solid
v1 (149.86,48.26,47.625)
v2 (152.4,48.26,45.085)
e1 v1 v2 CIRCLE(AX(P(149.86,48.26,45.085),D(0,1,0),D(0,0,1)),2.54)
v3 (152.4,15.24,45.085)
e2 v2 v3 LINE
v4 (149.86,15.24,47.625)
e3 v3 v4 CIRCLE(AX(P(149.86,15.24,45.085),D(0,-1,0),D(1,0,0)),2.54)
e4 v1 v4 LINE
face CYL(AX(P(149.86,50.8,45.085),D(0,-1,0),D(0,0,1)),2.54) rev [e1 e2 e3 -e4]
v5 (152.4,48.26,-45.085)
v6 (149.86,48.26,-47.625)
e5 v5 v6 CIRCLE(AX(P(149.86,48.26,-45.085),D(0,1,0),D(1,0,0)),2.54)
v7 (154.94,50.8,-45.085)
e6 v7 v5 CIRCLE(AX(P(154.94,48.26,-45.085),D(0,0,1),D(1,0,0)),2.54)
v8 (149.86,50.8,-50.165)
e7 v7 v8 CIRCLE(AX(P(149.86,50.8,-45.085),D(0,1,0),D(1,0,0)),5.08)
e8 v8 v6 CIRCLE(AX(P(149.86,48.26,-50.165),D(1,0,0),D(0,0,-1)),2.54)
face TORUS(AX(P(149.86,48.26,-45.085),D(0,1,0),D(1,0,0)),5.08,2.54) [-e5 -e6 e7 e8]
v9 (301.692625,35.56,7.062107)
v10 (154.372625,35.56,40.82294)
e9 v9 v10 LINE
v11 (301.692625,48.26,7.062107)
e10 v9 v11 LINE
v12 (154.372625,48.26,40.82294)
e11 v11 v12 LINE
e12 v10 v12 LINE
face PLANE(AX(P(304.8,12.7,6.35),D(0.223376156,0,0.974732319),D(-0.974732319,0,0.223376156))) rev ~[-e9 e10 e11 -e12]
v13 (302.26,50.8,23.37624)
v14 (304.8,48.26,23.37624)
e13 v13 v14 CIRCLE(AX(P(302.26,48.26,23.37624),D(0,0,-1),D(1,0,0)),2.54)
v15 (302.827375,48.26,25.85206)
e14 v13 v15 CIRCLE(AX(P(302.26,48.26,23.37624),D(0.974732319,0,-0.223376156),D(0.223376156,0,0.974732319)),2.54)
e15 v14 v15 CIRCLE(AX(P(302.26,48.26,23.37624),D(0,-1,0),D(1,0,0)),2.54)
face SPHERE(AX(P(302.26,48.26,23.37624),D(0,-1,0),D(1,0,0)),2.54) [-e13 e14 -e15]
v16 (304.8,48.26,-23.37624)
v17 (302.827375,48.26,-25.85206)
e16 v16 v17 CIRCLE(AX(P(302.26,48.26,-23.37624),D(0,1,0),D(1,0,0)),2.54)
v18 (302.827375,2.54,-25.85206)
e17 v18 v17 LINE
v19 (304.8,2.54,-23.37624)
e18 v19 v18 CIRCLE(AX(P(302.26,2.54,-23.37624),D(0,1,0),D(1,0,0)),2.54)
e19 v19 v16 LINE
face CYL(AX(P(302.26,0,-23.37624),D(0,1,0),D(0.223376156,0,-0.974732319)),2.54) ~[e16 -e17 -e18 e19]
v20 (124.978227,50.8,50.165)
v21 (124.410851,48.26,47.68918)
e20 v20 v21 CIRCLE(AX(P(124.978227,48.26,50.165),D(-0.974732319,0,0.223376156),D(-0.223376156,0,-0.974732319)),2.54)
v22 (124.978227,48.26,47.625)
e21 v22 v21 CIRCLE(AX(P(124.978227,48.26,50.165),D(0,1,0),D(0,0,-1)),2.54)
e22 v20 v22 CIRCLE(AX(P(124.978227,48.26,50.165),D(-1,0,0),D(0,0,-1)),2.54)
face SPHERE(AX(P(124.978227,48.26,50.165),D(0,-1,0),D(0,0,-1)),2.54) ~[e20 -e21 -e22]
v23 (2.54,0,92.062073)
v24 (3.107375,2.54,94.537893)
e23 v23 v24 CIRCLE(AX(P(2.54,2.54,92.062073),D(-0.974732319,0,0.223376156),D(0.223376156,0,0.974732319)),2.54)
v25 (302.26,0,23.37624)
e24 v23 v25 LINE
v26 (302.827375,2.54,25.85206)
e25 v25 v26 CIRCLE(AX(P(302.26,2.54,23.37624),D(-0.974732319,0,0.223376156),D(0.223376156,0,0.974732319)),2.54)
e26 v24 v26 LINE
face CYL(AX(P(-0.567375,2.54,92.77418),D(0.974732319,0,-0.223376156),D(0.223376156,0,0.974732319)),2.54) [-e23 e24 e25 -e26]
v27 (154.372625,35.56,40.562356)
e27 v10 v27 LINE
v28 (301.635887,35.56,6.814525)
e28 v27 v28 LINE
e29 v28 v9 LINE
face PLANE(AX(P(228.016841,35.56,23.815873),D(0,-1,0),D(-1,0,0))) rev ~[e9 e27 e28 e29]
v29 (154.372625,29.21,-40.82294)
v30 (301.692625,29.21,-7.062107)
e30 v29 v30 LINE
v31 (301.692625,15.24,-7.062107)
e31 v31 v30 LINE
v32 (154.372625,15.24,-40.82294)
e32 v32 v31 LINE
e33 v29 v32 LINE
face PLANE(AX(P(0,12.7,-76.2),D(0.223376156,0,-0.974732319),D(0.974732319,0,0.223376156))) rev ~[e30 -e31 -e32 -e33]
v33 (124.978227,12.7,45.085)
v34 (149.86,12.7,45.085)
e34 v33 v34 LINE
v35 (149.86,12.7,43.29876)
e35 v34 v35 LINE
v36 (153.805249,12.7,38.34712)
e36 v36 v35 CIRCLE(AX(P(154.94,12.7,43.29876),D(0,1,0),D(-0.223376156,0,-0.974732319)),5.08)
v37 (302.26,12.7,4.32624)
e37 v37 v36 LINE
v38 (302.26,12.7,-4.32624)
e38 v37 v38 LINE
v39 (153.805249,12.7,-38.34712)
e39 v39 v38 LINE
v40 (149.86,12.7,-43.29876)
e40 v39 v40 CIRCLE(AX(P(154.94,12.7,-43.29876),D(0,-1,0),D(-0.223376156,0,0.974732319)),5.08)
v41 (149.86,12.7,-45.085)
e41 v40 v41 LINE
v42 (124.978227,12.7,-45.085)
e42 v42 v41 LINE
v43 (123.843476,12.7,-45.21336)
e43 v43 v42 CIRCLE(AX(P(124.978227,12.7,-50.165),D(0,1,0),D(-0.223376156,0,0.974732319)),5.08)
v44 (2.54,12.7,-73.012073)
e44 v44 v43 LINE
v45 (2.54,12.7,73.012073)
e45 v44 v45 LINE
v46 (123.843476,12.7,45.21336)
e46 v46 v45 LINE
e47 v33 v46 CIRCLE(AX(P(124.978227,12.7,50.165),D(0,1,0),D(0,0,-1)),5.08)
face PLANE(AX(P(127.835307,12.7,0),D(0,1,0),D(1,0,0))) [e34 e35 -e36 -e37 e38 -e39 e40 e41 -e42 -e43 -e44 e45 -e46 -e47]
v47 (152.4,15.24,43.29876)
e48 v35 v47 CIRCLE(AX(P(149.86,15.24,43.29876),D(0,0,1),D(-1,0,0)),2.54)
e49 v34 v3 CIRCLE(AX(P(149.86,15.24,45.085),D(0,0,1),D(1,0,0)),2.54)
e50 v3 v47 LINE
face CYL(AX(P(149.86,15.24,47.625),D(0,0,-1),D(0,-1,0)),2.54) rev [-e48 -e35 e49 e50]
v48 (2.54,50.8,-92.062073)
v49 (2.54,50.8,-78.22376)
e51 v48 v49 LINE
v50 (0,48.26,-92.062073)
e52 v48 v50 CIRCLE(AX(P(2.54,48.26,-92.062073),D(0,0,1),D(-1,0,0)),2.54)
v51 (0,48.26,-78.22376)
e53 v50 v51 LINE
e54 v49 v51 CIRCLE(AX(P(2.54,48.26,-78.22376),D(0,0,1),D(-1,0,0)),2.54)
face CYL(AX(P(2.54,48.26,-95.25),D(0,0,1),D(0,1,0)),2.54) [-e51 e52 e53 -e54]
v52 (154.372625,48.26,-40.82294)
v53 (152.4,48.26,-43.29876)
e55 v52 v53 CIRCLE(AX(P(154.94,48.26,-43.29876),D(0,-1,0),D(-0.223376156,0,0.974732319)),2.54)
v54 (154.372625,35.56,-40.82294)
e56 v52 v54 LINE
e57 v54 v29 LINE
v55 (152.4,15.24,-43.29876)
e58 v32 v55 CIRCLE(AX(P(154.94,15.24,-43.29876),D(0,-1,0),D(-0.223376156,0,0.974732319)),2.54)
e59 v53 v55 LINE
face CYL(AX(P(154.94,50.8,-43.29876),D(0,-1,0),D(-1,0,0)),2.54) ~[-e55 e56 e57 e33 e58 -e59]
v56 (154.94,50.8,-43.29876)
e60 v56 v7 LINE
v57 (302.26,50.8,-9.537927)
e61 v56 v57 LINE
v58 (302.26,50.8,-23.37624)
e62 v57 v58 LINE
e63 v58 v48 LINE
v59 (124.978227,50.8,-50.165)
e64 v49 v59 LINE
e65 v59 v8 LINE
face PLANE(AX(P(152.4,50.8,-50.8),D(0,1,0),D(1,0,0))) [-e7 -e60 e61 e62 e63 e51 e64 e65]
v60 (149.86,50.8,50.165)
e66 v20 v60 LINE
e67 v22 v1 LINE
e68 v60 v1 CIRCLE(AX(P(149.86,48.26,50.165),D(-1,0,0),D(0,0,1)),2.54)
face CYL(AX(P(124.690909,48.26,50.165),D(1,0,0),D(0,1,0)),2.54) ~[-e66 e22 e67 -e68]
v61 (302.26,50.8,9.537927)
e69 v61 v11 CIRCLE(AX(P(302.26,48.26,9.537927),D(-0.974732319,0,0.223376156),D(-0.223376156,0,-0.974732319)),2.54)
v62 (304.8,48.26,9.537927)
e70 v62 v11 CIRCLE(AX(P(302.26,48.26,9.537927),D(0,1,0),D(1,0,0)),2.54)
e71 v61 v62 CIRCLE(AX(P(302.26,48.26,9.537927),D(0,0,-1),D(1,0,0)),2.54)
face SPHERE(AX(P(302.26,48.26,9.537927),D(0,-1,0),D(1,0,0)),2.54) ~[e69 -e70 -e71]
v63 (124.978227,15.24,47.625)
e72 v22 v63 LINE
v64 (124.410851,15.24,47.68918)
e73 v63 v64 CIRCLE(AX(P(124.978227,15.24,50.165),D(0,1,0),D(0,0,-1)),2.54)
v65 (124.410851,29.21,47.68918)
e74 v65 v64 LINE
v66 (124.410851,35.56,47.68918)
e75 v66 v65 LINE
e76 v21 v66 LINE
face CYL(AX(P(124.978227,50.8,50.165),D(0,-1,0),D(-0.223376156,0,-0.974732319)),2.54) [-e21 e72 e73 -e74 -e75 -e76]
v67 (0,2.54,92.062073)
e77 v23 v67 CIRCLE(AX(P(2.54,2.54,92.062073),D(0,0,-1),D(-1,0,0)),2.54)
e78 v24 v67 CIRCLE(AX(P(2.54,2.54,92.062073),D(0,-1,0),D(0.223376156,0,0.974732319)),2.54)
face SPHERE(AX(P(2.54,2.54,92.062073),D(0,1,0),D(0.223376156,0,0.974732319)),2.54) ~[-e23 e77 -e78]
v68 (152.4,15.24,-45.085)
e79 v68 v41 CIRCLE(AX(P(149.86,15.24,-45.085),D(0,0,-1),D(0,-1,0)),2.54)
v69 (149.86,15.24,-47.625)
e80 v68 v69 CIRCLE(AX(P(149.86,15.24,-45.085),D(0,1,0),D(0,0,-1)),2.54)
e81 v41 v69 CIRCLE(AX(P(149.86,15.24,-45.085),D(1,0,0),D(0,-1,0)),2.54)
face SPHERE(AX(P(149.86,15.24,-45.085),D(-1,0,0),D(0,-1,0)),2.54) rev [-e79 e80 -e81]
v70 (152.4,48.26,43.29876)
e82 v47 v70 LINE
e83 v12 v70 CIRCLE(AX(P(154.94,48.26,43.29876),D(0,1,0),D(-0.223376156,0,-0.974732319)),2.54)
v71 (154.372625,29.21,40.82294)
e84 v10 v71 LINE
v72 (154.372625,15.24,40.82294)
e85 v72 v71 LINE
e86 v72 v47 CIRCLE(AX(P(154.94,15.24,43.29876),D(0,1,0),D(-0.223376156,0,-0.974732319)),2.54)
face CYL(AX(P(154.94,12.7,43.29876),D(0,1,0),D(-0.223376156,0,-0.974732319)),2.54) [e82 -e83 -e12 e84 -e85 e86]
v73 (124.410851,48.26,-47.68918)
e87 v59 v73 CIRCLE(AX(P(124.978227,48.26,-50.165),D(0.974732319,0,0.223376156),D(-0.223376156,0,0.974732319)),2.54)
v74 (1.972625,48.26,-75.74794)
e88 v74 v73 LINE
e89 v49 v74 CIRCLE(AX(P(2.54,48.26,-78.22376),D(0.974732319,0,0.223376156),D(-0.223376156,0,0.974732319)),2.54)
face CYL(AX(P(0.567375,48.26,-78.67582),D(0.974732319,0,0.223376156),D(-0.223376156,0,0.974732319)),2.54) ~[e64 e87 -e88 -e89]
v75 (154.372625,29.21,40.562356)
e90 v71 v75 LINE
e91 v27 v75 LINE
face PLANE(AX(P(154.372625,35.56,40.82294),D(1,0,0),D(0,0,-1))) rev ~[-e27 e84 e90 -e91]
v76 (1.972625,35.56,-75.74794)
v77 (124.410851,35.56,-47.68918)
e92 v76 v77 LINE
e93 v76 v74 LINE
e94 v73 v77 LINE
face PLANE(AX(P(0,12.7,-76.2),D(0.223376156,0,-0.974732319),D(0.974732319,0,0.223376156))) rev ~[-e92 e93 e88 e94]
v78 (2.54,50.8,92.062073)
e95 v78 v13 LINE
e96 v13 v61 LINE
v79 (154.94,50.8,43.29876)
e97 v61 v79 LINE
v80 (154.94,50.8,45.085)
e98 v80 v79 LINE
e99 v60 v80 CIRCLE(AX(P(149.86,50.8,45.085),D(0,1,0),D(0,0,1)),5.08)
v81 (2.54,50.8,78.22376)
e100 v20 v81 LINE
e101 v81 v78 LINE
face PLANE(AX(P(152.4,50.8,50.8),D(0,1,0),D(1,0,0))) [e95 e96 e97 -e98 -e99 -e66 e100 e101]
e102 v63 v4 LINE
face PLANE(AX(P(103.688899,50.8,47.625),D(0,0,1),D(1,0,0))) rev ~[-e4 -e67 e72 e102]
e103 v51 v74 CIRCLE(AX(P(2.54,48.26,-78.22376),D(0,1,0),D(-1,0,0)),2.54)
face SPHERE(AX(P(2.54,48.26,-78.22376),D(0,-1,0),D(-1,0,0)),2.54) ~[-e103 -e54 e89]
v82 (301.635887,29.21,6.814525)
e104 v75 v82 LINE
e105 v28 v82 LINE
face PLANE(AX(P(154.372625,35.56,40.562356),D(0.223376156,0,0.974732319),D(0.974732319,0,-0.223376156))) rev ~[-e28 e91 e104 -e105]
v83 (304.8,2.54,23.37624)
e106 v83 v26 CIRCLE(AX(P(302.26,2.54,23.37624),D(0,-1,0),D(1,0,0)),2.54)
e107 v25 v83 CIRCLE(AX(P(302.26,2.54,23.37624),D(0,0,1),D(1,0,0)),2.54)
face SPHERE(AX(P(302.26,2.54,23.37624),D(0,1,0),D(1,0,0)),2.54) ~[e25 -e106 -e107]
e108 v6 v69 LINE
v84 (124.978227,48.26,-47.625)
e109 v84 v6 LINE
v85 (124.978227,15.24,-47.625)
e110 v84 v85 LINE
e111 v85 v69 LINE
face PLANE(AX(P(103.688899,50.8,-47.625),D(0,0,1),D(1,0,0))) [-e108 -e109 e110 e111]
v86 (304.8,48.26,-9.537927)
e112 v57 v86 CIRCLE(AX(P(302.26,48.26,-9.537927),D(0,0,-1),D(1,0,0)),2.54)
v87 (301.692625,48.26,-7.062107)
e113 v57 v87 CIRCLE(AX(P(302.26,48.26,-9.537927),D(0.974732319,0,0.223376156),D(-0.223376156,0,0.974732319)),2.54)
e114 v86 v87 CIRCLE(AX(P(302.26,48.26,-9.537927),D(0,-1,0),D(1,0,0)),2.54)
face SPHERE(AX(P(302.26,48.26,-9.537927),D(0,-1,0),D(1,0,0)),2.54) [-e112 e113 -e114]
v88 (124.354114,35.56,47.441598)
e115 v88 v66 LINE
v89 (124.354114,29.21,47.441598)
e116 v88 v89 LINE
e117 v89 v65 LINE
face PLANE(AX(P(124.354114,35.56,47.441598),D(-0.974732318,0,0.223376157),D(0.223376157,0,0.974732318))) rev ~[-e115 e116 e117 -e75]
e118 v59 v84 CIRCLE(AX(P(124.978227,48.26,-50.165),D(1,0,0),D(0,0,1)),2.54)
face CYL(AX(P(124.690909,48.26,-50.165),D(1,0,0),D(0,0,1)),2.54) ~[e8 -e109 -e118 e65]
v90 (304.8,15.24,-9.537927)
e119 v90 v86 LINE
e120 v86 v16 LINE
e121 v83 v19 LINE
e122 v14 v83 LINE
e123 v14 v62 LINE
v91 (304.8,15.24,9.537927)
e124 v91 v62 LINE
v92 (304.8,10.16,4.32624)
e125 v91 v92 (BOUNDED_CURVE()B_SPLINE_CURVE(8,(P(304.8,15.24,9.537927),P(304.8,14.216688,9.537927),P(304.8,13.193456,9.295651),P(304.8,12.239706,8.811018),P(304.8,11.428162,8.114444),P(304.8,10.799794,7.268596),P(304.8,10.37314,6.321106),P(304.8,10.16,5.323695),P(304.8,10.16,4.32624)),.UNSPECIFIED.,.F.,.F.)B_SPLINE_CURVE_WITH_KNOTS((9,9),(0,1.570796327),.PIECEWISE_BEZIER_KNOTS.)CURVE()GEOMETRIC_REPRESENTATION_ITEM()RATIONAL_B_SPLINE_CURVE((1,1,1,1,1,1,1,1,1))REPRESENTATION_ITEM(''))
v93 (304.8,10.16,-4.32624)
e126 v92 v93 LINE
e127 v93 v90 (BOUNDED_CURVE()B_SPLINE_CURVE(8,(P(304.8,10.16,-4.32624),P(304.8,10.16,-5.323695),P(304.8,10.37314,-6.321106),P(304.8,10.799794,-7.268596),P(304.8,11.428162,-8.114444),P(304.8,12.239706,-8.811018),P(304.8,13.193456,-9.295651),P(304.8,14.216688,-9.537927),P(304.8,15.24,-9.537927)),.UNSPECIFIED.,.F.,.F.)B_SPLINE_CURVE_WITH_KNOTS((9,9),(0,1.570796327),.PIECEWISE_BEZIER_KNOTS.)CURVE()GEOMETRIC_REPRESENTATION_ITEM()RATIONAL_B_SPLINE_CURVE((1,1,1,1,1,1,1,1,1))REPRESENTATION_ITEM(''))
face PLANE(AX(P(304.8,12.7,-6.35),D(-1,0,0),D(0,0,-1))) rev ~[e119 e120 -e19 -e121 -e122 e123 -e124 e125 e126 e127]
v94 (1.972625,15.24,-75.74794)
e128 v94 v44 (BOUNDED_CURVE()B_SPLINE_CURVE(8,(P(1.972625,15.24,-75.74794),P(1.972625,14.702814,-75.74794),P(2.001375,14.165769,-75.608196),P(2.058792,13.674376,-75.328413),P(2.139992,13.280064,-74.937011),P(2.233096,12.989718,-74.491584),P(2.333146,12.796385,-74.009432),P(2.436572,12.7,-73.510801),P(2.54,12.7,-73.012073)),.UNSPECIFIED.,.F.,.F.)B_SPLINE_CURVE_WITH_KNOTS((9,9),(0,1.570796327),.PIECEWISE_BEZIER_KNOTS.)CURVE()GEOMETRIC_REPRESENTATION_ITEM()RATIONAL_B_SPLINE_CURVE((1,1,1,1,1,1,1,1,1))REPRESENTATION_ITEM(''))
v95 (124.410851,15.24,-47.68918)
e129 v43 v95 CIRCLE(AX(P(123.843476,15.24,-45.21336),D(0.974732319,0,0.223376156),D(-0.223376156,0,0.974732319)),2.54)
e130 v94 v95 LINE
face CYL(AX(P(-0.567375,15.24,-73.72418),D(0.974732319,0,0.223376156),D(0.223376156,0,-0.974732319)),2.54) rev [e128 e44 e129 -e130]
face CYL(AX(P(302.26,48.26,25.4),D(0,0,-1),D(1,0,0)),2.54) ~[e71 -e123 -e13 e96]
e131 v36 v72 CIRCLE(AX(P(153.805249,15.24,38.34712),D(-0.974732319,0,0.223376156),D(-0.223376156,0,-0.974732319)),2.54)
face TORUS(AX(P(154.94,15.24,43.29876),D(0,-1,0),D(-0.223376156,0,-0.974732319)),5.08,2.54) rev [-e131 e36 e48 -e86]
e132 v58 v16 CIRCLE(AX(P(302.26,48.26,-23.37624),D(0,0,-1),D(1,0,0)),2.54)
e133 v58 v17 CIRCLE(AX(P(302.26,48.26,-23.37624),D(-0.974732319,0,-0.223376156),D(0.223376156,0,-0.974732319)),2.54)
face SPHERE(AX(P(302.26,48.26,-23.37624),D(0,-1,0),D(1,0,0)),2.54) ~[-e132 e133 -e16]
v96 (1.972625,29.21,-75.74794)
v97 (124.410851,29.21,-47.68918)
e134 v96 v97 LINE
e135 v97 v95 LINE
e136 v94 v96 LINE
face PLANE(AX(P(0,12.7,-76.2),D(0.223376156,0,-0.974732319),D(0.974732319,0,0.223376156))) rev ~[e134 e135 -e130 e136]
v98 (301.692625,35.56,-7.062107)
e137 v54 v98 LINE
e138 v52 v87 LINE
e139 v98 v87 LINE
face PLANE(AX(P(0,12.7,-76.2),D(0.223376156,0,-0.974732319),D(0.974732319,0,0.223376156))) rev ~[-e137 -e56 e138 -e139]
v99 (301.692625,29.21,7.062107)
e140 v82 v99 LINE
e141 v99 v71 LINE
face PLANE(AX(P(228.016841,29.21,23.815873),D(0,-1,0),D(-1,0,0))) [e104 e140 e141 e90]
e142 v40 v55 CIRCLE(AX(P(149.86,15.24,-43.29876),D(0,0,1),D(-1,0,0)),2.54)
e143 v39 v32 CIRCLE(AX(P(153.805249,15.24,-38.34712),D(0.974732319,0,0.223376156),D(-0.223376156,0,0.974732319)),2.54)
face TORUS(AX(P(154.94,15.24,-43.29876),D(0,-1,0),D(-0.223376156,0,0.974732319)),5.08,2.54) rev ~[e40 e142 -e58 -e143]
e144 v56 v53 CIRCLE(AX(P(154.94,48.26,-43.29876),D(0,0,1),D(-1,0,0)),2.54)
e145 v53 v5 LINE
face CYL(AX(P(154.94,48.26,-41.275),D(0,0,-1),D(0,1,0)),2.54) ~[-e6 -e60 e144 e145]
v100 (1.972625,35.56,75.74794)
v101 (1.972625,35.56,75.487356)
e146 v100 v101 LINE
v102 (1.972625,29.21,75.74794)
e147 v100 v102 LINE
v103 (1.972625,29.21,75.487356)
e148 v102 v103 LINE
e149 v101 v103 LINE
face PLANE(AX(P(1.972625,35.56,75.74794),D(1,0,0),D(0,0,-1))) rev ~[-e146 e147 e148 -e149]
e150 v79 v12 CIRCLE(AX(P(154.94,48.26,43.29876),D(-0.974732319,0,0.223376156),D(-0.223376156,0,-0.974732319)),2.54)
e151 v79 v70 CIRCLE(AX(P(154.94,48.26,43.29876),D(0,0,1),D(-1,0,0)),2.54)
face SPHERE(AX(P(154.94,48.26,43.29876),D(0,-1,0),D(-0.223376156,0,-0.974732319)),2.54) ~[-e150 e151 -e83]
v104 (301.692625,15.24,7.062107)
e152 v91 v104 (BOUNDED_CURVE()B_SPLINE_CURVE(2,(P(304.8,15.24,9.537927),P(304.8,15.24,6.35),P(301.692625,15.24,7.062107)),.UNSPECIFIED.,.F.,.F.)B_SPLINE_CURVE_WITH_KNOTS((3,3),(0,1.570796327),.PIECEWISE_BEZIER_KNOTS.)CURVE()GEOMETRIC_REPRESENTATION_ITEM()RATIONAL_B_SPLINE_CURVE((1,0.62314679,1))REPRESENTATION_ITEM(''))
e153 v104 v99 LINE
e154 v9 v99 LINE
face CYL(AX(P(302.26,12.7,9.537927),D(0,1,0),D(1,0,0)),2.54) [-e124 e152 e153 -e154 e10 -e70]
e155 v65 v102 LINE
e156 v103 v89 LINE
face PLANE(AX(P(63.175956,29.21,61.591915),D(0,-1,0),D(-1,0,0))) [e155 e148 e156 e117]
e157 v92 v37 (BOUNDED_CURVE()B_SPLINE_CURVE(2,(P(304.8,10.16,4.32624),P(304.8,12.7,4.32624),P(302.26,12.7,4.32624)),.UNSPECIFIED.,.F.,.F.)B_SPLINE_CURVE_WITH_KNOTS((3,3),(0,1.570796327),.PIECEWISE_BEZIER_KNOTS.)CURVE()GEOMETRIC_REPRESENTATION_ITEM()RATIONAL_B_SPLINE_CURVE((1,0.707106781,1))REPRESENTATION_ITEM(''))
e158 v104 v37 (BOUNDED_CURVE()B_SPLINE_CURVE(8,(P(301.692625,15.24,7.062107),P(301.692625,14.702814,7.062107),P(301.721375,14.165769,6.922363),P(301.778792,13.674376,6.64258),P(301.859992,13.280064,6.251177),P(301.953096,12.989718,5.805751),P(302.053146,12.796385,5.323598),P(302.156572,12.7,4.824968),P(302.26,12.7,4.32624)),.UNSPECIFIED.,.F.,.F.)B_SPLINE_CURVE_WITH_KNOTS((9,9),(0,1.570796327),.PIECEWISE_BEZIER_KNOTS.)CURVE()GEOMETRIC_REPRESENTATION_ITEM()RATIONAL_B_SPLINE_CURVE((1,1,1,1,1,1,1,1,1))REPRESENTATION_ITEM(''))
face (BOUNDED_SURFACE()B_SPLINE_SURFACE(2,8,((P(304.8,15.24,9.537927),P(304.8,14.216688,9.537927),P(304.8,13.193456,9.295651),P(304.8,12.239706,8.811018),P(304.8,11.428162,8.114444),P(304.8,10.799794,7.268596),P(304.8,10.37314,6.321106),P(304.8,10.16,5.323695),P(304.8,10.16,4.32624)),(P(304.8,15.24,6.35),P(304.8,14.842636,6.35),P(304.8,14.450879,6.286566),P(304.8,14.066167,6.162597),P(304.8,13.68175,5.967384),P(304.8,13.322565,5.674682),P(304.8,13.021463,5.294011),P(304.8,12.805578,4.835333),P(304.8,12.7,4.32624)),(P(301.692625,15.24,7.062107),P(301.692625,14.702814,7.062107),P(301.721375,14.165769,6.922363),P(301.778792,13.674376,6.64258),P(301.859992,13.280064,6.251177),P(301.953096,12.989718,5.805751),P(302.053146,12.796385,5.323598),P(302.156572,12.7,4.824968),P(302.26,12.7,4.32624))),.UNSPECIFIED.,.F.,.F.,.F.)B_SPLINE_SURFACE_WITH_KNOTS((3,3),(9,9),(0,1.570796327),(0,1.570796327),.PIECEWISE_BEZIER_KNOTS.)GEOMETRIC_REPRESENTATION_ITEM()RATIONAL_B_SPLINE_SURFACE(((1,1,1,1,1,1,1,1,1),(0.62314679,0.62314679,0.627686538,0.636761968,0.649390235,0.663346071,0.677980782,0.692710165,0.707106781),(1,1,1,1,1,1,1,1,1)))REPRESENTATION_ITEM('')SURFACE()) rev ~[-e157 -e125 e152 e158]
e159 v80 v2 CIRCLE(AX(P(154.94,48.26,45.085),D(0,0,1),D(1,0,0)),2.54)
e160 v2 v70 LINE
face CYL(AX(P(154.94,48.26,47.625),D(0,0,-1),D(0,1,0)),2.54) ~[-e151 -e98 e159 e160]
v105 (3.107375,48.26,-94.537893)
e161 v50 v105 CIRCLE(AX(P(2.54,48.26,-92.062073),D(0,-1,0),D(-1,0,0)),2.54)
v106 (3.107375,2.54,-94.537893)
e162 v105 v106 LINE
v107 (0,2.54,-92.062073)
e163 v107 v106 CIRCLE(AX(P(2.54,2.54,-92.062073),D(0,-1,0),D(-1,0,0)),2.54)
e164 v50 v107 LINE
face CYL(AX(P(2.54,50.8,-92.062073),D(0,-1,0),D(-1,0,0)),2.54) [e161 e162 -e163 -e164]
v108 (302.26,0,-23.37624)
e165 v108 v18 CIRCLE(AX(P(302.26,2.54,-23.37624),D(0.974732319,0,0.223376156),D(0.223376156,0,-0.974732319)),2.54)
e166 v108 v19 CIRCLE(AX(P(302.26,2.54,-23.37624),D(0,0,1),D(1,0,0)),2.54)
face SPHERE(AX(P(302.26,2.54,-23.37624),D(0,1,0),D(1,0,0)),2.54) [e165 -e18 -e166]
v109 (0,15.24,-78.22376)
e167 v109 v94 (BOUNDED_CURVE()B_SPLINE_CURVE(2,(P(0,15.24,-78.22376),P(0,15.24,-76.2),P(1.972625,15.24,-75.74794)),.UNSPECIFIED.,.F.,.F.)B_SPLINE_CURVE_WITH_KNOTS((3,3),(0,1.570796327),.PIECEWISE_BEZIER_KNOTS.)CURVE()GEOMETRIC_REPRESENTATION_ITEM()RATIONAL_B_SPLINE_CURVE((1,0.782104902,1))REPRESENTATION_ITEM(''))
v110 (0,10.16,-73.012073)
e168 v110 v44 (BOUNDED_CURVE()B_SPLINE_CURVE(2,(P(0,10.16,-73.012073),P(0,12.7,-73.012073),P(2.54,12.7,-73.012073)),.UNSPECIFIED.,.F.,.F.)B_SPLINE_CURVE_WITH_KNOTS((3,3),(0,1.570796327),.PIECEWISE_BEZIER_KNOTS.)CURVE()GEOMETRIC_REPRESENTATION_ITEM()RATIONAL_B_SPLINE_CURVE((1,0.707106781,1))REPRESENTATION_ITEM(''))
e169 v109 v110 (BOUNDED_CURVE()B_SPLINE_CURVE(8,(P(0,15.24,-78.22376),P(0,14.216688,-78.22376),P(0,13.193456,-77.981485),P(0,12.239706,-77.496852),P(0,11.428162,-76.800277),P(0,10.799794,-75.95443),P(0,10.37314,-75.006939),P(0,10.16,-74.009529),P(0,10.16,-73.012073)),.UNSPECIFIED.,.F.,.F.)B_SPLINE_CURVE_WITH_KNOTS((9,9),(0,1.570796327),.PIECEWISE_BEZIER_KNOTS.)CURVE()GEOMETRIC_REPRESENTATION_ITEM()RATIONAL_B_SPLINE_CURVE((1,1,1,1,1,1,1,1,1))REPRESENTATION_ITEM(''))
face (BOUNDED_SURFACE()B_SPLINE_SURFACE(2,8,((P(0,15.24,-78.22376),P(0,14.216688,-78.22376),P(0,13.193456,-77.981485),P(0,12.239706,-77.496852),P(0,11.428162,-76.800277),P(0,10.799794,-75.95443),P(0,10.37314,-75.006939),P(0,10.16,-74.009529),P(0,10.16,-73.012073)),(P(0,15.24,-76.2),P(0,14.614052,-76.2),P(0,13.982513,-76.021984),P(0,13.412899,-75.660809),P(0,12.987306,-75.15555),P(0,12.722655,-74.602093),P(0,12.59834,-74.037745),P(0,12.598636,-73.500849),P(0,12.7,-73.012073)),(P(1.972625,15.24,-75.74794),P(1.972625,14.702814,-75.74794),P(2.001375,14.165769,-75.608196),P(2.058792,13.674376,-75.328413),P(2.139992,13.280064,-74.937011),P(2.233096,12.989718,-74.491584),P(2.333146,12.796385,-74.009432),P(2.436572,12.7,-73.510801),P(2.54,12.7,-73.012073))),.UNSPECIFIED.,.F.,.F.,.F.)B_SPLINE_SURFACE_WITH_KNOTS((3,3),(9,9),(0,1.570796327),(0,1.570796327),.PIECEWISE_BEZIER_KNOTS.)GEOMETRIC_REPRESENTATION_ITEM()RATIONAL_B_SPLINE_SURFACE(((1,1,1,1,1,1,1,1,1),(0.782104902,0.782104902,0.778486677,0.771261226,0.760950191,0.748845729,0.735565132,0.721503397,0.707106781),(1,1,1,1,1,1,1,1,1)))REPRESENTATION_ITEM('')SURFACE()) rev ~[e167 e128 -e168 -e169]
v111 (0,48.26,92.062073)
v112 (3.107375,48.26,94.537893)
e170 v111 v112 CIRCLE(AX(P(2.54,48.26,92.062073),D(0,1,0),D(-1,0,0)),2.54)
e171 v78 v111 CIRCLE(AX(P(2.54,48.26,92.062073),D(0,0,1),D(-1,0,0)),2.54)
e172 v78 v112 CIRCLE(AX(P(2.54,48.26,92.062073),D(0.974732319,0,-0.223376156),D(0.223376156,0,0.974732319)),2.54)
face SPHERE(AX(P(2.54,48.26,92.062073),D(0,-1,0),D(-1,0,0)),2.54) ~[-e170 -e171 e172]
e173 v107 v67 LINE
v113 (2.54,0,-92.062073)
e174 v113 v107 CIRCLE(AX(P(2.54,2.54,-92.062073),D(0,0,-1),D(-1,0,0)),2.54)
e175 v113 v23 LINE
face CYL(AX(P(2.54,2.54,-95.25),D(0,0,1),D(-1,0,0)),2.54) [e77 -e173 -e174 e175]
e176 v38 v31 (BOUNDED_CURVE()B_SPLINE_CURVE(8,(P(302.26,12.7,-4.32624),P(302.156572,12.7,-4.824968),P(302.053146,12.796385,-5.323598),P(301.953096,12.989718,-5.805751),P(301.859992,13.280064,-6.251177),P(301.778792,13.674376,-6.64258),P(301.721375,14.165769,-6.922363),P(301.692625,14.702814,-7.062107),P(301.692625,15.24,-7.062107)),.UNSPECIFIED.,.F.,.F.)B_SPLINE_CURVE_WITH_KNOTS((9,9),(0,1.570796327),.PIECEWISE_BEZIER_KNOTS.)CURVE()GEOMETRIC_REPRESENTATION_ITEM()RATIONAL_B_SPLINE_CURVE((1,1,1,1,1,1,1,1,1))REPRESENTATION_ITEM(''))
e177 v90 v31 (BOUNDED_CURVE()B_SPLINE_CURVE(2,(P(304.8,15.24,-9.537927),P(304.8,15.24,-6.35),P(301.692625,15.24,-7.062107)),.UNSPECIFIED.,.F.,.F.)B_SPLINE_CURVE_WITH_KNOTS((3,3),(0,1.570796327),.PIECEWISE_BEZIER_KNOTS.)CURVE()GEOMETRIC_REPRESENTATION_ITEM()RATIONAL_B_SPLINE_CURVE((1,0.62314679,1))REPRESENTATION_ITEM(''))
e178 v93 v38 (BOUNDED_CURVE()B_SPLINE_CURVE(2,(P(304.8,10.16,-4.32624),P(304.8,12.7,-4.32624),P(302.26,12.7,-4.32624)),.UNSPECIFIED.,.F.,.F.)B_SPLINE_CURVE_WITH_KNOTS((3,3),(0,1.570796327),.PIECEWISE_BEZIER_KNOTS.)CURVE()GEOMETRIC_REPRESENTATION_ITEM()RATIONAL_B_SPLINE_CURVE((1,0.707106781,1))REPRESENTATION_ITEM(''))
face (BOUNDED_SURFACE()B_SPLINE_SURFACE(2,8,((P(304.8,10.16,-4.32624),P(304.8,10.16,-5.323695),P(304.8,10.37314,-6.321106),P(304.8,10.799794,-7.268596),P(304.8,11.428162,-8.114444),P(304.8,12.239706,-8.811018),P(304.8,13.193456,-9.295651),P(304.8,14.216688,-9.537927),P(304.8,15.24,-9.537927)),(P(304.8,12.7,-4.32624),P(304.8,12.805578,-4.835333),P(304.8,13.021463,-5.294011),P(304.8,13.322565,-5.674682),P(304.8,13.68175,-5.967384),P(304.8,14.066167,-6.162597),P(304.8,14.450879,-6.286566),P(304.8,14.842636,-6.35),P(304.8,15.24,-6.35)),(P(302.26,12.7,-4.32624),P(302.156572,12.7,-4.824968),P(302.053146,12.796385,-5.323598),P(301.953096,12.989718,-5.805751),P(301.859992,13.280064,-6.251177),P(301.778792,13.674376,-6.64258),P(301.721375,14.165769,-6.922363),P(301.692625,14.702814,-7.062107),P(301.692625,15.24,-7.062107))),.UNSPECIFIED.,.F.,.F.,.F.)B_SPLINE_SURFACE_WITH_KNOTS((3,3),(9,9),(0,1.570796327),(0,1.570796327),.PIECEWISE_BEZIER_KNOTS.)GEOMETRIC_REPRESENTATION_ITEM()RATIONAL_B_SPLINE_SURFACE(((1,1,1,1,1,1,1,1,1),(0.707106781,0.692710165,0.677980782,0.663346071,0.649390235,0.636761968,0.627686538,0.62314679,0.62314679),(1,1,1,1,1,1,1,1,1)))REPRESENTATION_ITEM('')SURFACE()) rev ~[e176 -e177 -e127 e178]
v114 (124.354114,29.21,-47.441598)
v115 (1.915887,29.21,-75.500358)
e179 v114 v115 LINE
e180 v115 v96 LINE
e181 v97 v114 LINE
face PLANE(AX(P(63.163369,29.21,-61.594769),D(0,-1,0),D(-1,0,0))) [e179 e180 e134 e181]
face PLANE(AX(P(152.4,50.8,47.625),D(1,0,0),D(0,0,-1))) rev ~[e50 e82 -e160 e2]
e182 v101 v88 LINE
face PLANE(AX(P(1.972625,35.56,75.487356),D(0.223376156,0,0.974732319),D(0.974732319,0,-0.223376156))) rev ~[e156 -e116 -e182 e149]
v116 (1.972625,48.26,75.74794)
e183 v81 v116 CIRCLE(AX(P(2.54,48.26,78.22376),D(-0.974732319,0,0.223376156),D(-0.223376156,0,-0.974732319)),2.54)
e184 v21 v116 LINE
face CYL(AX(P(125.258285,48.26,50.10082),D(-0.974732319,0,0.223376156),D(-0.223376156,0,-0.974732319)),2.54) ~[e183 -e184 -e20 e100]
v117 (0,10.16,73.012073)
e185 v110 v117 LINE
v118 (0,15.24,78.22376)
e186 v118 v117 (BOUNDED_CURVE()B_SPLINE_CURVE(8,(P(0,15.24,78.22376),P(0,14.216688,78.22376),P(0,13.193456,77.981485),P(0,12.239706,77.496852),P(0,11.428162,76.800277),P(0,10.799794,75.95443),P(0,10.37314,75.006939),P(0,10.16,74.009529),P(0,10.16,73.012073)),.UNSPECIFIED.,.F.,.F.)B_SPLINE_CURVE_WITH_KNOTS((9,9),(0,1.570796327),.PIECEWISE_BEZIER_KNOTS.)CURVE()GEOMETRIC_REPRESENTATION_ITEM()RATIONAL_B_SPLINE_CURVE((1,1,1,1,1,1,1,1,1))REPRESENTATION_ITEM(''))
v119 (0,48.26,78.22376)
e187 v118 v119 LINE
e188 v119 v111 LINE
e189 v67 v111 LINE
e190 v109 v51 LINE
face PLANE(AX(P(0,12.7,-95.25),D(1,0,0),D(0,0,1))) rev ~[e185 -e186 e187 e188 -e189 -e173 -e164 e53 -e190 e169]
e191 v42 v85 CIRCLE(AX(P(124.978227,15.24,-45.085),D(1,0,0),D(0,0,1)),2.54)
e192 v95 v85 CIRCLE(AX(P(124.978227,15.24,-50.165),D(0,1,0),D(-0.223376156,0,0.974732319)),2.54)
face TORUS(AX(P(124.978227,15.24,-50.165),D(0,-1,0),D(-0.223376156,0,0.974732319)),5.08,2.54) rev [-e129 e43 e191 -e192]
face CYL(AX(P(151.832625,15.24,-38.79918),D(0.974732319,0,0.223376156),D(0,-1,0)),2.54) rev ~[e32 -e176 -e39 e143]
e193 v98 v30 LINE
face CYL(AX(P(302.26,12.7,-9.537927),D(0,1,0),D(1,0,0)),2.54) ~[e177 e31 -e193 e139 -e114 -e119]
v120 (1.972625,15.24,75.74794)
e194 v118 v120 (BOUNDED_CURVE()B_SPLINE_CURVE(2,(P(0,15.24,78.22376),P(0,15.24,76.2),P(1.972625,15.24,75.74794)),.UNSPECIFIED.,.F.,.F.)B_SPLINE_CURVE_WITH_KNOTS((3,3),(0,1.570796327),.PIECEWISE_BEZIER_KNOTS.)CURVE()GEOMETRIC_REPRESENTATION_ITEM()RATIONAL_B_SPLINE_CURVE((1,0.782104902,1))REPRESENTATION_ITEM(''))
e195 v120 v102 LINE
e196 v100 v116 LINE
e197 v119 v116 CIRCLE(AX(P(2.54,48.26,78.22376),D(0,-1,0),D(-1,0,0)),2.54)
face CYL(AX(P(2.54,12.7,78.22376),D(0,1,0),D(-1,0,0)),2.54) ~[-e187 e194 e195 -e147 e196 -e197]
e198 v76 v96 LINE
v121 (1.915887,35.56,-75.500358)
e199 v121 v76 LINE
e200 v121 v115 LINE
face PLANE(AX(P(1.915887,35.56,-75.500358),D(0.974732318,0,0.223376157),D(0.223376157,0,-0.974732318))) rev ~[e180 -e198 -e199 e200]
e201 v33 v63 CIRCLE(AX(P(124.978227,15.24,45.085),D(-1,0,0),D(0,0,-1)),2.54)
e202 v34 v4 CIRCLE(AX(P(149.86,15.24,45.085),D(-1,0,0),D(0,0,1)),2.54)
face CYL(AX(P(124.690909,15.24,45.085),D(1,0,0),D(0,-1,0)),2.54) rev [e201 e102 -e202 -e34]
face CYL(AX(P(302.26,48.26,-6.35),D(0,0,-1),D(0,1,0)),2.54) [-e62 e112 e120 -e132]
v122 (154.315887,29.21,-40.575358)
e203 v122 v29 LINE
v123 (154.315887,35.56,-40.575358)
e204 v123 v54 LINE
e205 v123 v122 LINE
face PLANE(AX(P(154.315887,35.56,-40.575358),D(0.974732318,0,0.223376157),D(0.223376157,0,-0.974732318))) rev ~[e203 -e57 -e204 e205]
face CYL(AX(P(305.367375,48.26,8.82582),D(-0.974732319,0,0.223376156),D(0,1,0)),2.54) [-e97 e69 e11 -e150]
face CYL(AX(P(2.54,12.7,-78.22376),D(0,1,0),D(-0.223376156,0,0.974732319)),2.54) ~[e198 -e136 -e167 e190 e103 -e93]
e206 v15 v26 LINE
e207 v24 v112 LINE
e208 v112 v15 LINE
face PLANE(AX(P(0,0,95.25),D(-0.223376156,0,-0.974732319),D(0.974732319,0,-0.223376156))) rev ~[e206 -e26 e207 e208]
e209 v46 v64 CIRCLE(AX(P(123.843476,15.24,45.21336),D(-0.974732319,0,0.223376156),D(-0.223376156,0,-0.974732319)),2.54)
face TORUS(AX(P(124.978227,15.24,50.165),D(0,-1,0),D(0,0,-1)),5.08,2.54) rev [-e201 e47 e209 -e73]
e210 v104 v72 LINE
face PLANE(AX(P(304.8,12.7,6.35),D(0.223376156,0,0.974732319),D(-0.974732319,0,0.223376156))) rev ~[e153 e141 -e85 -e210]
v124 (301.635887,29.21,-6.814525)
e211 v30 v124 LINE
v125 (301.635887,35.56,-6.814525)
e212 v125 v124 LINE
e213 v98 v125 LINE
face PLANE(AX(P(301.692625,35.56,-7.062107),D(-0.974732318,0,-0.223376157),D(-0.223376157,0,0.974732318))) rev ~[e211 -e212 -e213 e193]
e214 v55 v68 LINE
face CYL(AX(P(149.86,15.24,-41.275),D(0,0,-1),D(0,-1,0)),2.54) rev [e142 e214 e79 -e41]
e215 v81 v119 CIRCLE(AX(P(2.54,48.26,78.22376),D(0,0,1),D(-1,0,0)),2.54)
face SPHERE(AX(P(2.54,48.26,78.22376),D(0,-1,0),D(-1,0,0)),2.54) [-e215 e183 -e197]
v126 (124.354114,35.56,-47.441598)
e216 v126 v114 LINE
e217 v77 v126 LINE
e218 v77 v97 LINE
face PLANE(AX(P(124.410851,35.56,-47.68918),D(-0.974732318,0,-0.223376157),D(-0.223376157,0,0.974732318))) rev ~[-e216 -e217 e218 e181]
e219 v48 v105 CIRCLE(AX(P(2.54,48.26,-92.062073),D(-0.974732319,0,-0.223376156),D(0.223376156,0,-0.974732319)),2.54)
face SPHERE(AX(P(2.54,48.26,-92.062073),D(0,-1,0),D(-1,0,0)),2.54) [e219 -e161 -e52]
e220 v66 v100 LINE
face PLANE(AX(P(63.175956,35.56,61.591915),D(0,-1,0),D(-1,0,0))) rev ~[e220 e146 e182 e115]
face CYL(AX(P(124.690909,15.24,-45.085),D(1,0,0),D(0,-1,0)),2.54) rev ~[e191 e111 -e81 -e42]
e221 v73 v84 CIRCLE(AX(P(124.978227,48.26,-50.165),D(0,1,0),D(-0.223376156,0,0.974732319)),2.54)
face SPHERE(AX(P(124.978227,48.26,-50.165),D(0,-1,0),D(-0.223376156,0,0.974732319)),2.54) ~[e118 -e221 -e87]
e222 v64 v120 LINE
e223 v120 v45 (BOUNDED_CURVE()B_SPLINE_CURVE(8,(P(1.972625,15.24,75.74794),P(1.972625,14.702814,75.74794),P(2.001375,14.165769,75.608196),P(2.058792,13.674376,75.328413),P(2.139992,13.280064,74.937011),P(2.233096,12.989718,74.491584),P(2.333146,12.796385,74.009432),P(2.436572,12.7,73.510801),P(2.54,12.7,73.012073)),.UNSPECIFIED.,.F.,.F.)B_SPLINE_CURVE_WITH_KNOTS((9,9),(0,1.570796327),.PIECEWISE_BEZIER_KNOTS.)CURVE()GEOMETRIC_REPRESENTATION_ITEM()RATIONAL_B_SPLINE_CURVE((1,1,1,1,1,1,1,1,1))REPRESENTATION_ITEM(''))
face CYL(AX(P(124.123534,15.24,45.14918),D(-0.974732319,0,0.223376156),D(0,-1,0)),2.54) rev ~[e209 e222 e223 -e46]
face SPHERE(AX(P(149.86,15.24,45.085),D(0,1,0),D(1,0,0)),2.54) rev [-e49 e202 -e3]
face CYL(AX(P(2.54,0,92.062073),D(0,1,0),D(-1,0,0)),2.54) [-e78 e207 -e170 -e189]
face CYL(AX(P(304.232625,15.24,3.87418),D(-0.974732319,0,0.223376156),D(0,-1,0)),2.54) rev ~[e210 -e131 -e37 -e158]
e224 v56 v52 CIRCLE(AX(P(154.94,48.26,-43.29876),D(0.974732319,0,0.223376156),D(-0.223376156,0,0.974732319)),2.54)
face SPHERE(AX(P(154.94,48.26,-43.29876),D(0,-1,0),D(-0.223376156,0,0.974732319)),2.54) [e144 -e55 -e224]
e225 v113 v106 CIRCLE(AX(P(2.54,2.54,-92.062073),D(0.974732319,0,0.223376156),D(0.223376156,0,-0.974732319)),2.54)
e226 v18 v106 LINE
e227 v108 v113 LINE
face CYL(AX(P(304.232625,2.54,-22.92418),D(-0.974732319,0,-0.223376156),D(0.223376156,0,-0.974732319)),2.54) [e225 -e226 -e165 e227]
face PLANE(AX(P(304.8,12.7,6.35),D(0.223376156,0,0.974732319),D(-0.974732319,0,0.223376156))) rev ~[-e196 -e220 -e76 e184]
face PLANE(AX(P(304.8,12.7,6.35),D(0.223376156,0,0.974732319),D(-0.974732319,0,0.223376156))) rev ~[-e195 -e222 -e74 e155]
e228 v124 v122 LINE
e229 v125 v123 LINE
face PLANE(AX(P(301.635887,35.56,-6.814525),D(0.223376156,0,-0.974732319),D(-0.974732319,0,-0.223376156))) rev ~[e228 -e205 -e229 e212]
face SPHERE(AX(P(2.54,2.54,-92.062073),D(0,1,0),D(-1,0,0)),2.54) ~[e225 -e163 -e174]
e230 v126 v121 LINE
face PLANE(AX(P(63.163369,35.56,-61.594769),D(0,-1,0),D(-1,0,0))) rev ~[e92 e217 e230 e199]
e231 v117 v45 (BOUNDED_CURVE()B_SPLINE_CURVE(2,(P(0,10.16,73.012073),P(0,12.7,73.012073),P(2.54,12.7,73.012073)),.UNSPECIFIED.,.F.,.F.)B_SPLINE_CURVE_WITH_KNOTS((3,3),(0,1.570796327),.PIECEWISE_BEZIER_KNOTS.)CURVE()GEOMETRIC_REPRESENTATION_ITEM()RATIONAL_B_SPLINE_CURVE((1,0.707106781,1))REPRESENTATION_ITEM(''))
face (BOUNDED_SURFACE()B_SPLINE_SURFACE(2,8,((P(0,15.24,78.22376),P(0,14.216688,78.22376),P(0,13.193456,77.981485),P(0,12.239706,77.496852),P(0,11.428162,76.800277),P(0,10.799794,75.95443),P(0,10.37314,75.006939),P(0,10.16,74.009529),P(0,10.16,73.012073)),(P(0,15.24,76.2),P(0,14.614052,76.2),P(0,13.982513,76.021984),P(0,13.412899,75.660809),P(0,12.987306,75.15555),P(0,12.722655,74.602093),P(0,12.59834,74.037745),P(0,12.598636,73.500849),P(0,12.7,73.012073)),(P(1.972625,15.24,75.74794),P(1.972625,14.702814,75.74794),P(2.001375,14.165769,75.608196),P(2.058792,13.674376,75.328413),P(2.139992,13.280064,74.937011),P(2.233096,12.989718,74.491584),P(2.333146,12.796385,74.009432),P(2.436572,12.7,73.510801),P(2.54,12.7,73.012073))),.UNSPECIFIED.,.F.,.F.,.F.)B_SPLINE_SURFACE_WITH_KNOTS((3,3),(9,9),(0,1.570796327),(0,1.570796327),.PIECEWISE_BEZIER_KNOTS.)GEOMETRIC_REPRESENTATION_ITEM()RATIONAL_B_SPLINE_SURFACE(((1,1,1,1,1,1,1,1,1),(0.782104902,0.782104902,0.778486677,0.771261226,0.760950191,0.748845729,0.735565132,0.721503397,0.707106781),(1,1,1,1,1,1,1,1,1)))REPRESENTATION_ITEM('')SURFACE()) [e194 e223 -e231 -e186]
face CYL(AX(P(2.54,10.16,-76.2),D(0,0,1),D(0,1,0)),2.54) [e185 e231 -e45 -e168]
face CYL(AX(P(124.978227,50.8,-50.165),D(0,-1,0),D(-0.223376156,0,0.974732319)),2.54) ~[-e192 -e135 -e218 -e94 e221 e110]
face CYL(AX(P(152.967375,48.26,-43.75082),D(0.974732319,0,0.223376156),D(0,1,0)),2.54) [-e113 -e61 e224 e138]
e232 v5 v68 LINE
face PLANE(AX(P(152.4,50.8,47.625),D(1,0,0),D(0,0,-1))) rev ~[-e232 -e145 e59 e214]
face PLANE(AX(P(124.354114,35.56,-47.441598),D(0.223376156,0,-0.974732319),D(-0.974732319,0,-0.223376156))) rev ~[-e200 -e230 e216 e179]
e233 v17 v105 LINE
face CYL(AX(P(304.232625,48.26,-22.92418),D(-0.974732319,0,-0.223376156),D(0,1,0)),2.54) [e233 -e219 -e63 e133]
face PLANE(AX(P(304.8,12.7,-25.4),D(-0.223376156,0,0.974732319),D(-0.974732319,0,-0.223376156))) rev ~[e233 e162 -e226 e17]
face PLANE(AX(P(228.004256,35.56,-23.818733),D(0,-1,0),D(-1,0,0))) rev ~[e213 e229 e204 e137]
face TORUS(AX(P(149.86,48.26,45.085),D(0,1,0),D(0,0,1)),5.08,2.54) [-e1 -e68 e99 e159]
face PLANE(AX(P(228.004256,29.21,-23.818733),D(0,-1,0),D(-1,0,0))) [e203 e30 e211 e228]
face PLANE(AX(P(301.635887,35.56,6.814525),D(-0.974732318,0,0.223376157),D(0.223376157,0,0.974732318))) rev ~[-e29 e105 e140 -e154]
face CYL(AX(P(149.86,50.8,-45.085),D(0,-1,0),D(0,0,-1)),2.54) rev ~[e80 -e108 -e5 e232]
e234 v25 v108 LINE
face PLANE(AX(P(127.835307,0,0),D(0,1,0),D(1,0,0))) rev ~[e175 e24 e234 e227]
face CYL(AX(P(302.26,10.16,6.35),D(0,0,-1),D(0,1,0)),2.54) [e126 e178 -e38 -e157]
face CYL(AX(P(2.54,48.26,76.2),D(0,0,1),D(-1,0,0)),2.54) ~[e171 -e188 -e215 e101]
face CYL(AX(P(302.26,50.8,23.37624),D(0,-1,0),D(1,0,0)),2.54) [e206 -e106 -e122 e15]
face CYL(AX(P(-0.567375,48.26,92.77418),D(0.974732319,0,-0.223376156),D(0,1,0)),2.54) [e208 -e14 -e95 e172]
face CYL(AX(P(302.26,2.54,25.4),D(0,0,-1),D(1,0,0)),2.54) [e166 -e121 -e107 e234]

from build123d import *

# Parameters (mm, degrees)
BOSS_EXTRUDE1_DEPTH = 12.7
BOSS_EXTRUDE2_DEPTH = 38.1
SKETCH3_W           = 48.711101319
SKETCH3_H           = 95.25
CUT_EXTRUDE1_DEPTH  = 38.1
FILLET1_R           = 2.54
BOSS_EXTRUDE3_DEPTH = 6.35


with BuildPart() as part:
    # Sketch1 → Boss-Extrude1 (new body)
    with BuildSketch(Plane(origin=(0, 0, 0), x_dir=(1, 0, 0), z_dir=(0, 1, 0))):
        Polygon((0, 95.25), (0, -95.25), (304.8, -25.4), (304.8, 25.4), align=None)
    extrude(amount=BOSS_EXTRUDE1_DEPTH)

    # Sketch2 → Boss-Extrude2 (add)
    with BuildSketch(Plane(origin=(0, 12.7, 0), x_dir=(1, 0, 0), z_dir=(0, 1, 0))):
        Polygon((0, 76.2), (304.8, 6.35), (304.8, 25.4), (0, 95.25), align=None)
        Polygon((304.8, -6.35), (0, -76.2), (0, -95.25), (304.8, -25.4), align=None)
    extrude(amount=BOSS_EXTRUDE2_DEPTH)

    # Sketch3 → Cut-Extrude1 (cut)
    with BuildSketch(Plane(origin=(0, 50.8, 0), x_dir=(1, 0, 0), z_dir=(0, 1, 0))):
        with Locations((128.044449341, 0)):
            Rectangle(SKETCH3_W, SKETCH3_H)
    extrude(amount=-CUT_EXTRUDE1_DEPTH, mode=Mode.SUBTRACT)

    # Fillet1
    fillet1_edges = [part.edges().sort_by_distance(p)[0] for p in [
        (304.8, 12.7, 0),
        (228.6, 12.7, 23.8125),
        (304.8, 31.75, 6.35),
        (0, 31.75, 76.2),
        (304.8, 50.8, 15.875),
        (228.6, 50.8, 23.8125),
        (0, 50.8, 85.725),
        (152.4, 50.8, 60.325),
        (0, 12.7, 0),
        (62.345454545, 12.7, -61.9125),
        (0, 31.75, -76.2),
        (304.8, 31.75, -6.35),
        (0, 50.8, -85.725),
        (62.345454545, 50.8, -61.9125),
        (304.8, 50.8, -15.875),
        (152.4, 50.8, -60.325),
        (228.6, 50.8, -23.8125),
        (152.4, 50.8, -44.45),
        (228.6, 12.7, -23.8125),
        (62.345454545, 50.8, 61.9125),
        (62.345454545, 12.7, 61.9125),
        (124.690909091, 31.75, 47.625),
        (152.4, 31.75, 47.625),
        (138.545454545, 50.8, 47.625),
        (152.4, 50.8, 44.45),
        (138.545454545, 50.8, -47.625),
        (152.4, 12.7, 44.45),
        (138.545454545, 12.7, 47.625),
        (138.545454545, 12.7, -47.625),
        (152.4, 12.7, -44.45),
        (152.4, 31.75, 41.275),
        (152.4, 31.75, -41.275),
        (152.4, 31.75, -47.625),
        (124.690909091, 31.75, -47.625),
        (304.8, 0, 0),
        (152.4, 0, 60.325),
        (0, 0, 0),
        (152.4, 0, -60.325),
        (304.8, 25.4, -25.4),
        (304.8, 25.4, 25.4),
        (0, 25.4, 95.25),
        (0, 25.4, -95.25),
    ]]
    fillet(fillet1_edges, radius=FILLET1_R)

    # Sketch4 → Boss-Extrude3 (add)
    with BuildSketch(Plane(origin=(0, 35.56, 0), x_dir=(1, 0, 0), z_dir=(0, 1, 0))):
        Polygon((301.692624563, -7.062106871), (154.372624563, -40.822940204), (154.372624563, -40.562355842), (301.635887019, -6.814524862), align=None)
        Polygon((124.410851298, -47.689179911), (1.972624563, -75.747940204), (1.972624563, -75.487355842), (124.354113754, -47.441597902), align=None)
        Polygon((154.372624563, 40.822940204), (301.692624563, 7.062106871), (301.635887019, 6.814524862), (154.315887019, 40.575358195), align=None)
        Polygon((1.972624563, 75.747940204), (124.410851298, 47.689179911), (124.354113754, 47.441597902), (1.915887019, 75.500358195), align=None)
    extrude(amount=-BOSS_EXTRUDE3_DEPTH)


solid = part.part
